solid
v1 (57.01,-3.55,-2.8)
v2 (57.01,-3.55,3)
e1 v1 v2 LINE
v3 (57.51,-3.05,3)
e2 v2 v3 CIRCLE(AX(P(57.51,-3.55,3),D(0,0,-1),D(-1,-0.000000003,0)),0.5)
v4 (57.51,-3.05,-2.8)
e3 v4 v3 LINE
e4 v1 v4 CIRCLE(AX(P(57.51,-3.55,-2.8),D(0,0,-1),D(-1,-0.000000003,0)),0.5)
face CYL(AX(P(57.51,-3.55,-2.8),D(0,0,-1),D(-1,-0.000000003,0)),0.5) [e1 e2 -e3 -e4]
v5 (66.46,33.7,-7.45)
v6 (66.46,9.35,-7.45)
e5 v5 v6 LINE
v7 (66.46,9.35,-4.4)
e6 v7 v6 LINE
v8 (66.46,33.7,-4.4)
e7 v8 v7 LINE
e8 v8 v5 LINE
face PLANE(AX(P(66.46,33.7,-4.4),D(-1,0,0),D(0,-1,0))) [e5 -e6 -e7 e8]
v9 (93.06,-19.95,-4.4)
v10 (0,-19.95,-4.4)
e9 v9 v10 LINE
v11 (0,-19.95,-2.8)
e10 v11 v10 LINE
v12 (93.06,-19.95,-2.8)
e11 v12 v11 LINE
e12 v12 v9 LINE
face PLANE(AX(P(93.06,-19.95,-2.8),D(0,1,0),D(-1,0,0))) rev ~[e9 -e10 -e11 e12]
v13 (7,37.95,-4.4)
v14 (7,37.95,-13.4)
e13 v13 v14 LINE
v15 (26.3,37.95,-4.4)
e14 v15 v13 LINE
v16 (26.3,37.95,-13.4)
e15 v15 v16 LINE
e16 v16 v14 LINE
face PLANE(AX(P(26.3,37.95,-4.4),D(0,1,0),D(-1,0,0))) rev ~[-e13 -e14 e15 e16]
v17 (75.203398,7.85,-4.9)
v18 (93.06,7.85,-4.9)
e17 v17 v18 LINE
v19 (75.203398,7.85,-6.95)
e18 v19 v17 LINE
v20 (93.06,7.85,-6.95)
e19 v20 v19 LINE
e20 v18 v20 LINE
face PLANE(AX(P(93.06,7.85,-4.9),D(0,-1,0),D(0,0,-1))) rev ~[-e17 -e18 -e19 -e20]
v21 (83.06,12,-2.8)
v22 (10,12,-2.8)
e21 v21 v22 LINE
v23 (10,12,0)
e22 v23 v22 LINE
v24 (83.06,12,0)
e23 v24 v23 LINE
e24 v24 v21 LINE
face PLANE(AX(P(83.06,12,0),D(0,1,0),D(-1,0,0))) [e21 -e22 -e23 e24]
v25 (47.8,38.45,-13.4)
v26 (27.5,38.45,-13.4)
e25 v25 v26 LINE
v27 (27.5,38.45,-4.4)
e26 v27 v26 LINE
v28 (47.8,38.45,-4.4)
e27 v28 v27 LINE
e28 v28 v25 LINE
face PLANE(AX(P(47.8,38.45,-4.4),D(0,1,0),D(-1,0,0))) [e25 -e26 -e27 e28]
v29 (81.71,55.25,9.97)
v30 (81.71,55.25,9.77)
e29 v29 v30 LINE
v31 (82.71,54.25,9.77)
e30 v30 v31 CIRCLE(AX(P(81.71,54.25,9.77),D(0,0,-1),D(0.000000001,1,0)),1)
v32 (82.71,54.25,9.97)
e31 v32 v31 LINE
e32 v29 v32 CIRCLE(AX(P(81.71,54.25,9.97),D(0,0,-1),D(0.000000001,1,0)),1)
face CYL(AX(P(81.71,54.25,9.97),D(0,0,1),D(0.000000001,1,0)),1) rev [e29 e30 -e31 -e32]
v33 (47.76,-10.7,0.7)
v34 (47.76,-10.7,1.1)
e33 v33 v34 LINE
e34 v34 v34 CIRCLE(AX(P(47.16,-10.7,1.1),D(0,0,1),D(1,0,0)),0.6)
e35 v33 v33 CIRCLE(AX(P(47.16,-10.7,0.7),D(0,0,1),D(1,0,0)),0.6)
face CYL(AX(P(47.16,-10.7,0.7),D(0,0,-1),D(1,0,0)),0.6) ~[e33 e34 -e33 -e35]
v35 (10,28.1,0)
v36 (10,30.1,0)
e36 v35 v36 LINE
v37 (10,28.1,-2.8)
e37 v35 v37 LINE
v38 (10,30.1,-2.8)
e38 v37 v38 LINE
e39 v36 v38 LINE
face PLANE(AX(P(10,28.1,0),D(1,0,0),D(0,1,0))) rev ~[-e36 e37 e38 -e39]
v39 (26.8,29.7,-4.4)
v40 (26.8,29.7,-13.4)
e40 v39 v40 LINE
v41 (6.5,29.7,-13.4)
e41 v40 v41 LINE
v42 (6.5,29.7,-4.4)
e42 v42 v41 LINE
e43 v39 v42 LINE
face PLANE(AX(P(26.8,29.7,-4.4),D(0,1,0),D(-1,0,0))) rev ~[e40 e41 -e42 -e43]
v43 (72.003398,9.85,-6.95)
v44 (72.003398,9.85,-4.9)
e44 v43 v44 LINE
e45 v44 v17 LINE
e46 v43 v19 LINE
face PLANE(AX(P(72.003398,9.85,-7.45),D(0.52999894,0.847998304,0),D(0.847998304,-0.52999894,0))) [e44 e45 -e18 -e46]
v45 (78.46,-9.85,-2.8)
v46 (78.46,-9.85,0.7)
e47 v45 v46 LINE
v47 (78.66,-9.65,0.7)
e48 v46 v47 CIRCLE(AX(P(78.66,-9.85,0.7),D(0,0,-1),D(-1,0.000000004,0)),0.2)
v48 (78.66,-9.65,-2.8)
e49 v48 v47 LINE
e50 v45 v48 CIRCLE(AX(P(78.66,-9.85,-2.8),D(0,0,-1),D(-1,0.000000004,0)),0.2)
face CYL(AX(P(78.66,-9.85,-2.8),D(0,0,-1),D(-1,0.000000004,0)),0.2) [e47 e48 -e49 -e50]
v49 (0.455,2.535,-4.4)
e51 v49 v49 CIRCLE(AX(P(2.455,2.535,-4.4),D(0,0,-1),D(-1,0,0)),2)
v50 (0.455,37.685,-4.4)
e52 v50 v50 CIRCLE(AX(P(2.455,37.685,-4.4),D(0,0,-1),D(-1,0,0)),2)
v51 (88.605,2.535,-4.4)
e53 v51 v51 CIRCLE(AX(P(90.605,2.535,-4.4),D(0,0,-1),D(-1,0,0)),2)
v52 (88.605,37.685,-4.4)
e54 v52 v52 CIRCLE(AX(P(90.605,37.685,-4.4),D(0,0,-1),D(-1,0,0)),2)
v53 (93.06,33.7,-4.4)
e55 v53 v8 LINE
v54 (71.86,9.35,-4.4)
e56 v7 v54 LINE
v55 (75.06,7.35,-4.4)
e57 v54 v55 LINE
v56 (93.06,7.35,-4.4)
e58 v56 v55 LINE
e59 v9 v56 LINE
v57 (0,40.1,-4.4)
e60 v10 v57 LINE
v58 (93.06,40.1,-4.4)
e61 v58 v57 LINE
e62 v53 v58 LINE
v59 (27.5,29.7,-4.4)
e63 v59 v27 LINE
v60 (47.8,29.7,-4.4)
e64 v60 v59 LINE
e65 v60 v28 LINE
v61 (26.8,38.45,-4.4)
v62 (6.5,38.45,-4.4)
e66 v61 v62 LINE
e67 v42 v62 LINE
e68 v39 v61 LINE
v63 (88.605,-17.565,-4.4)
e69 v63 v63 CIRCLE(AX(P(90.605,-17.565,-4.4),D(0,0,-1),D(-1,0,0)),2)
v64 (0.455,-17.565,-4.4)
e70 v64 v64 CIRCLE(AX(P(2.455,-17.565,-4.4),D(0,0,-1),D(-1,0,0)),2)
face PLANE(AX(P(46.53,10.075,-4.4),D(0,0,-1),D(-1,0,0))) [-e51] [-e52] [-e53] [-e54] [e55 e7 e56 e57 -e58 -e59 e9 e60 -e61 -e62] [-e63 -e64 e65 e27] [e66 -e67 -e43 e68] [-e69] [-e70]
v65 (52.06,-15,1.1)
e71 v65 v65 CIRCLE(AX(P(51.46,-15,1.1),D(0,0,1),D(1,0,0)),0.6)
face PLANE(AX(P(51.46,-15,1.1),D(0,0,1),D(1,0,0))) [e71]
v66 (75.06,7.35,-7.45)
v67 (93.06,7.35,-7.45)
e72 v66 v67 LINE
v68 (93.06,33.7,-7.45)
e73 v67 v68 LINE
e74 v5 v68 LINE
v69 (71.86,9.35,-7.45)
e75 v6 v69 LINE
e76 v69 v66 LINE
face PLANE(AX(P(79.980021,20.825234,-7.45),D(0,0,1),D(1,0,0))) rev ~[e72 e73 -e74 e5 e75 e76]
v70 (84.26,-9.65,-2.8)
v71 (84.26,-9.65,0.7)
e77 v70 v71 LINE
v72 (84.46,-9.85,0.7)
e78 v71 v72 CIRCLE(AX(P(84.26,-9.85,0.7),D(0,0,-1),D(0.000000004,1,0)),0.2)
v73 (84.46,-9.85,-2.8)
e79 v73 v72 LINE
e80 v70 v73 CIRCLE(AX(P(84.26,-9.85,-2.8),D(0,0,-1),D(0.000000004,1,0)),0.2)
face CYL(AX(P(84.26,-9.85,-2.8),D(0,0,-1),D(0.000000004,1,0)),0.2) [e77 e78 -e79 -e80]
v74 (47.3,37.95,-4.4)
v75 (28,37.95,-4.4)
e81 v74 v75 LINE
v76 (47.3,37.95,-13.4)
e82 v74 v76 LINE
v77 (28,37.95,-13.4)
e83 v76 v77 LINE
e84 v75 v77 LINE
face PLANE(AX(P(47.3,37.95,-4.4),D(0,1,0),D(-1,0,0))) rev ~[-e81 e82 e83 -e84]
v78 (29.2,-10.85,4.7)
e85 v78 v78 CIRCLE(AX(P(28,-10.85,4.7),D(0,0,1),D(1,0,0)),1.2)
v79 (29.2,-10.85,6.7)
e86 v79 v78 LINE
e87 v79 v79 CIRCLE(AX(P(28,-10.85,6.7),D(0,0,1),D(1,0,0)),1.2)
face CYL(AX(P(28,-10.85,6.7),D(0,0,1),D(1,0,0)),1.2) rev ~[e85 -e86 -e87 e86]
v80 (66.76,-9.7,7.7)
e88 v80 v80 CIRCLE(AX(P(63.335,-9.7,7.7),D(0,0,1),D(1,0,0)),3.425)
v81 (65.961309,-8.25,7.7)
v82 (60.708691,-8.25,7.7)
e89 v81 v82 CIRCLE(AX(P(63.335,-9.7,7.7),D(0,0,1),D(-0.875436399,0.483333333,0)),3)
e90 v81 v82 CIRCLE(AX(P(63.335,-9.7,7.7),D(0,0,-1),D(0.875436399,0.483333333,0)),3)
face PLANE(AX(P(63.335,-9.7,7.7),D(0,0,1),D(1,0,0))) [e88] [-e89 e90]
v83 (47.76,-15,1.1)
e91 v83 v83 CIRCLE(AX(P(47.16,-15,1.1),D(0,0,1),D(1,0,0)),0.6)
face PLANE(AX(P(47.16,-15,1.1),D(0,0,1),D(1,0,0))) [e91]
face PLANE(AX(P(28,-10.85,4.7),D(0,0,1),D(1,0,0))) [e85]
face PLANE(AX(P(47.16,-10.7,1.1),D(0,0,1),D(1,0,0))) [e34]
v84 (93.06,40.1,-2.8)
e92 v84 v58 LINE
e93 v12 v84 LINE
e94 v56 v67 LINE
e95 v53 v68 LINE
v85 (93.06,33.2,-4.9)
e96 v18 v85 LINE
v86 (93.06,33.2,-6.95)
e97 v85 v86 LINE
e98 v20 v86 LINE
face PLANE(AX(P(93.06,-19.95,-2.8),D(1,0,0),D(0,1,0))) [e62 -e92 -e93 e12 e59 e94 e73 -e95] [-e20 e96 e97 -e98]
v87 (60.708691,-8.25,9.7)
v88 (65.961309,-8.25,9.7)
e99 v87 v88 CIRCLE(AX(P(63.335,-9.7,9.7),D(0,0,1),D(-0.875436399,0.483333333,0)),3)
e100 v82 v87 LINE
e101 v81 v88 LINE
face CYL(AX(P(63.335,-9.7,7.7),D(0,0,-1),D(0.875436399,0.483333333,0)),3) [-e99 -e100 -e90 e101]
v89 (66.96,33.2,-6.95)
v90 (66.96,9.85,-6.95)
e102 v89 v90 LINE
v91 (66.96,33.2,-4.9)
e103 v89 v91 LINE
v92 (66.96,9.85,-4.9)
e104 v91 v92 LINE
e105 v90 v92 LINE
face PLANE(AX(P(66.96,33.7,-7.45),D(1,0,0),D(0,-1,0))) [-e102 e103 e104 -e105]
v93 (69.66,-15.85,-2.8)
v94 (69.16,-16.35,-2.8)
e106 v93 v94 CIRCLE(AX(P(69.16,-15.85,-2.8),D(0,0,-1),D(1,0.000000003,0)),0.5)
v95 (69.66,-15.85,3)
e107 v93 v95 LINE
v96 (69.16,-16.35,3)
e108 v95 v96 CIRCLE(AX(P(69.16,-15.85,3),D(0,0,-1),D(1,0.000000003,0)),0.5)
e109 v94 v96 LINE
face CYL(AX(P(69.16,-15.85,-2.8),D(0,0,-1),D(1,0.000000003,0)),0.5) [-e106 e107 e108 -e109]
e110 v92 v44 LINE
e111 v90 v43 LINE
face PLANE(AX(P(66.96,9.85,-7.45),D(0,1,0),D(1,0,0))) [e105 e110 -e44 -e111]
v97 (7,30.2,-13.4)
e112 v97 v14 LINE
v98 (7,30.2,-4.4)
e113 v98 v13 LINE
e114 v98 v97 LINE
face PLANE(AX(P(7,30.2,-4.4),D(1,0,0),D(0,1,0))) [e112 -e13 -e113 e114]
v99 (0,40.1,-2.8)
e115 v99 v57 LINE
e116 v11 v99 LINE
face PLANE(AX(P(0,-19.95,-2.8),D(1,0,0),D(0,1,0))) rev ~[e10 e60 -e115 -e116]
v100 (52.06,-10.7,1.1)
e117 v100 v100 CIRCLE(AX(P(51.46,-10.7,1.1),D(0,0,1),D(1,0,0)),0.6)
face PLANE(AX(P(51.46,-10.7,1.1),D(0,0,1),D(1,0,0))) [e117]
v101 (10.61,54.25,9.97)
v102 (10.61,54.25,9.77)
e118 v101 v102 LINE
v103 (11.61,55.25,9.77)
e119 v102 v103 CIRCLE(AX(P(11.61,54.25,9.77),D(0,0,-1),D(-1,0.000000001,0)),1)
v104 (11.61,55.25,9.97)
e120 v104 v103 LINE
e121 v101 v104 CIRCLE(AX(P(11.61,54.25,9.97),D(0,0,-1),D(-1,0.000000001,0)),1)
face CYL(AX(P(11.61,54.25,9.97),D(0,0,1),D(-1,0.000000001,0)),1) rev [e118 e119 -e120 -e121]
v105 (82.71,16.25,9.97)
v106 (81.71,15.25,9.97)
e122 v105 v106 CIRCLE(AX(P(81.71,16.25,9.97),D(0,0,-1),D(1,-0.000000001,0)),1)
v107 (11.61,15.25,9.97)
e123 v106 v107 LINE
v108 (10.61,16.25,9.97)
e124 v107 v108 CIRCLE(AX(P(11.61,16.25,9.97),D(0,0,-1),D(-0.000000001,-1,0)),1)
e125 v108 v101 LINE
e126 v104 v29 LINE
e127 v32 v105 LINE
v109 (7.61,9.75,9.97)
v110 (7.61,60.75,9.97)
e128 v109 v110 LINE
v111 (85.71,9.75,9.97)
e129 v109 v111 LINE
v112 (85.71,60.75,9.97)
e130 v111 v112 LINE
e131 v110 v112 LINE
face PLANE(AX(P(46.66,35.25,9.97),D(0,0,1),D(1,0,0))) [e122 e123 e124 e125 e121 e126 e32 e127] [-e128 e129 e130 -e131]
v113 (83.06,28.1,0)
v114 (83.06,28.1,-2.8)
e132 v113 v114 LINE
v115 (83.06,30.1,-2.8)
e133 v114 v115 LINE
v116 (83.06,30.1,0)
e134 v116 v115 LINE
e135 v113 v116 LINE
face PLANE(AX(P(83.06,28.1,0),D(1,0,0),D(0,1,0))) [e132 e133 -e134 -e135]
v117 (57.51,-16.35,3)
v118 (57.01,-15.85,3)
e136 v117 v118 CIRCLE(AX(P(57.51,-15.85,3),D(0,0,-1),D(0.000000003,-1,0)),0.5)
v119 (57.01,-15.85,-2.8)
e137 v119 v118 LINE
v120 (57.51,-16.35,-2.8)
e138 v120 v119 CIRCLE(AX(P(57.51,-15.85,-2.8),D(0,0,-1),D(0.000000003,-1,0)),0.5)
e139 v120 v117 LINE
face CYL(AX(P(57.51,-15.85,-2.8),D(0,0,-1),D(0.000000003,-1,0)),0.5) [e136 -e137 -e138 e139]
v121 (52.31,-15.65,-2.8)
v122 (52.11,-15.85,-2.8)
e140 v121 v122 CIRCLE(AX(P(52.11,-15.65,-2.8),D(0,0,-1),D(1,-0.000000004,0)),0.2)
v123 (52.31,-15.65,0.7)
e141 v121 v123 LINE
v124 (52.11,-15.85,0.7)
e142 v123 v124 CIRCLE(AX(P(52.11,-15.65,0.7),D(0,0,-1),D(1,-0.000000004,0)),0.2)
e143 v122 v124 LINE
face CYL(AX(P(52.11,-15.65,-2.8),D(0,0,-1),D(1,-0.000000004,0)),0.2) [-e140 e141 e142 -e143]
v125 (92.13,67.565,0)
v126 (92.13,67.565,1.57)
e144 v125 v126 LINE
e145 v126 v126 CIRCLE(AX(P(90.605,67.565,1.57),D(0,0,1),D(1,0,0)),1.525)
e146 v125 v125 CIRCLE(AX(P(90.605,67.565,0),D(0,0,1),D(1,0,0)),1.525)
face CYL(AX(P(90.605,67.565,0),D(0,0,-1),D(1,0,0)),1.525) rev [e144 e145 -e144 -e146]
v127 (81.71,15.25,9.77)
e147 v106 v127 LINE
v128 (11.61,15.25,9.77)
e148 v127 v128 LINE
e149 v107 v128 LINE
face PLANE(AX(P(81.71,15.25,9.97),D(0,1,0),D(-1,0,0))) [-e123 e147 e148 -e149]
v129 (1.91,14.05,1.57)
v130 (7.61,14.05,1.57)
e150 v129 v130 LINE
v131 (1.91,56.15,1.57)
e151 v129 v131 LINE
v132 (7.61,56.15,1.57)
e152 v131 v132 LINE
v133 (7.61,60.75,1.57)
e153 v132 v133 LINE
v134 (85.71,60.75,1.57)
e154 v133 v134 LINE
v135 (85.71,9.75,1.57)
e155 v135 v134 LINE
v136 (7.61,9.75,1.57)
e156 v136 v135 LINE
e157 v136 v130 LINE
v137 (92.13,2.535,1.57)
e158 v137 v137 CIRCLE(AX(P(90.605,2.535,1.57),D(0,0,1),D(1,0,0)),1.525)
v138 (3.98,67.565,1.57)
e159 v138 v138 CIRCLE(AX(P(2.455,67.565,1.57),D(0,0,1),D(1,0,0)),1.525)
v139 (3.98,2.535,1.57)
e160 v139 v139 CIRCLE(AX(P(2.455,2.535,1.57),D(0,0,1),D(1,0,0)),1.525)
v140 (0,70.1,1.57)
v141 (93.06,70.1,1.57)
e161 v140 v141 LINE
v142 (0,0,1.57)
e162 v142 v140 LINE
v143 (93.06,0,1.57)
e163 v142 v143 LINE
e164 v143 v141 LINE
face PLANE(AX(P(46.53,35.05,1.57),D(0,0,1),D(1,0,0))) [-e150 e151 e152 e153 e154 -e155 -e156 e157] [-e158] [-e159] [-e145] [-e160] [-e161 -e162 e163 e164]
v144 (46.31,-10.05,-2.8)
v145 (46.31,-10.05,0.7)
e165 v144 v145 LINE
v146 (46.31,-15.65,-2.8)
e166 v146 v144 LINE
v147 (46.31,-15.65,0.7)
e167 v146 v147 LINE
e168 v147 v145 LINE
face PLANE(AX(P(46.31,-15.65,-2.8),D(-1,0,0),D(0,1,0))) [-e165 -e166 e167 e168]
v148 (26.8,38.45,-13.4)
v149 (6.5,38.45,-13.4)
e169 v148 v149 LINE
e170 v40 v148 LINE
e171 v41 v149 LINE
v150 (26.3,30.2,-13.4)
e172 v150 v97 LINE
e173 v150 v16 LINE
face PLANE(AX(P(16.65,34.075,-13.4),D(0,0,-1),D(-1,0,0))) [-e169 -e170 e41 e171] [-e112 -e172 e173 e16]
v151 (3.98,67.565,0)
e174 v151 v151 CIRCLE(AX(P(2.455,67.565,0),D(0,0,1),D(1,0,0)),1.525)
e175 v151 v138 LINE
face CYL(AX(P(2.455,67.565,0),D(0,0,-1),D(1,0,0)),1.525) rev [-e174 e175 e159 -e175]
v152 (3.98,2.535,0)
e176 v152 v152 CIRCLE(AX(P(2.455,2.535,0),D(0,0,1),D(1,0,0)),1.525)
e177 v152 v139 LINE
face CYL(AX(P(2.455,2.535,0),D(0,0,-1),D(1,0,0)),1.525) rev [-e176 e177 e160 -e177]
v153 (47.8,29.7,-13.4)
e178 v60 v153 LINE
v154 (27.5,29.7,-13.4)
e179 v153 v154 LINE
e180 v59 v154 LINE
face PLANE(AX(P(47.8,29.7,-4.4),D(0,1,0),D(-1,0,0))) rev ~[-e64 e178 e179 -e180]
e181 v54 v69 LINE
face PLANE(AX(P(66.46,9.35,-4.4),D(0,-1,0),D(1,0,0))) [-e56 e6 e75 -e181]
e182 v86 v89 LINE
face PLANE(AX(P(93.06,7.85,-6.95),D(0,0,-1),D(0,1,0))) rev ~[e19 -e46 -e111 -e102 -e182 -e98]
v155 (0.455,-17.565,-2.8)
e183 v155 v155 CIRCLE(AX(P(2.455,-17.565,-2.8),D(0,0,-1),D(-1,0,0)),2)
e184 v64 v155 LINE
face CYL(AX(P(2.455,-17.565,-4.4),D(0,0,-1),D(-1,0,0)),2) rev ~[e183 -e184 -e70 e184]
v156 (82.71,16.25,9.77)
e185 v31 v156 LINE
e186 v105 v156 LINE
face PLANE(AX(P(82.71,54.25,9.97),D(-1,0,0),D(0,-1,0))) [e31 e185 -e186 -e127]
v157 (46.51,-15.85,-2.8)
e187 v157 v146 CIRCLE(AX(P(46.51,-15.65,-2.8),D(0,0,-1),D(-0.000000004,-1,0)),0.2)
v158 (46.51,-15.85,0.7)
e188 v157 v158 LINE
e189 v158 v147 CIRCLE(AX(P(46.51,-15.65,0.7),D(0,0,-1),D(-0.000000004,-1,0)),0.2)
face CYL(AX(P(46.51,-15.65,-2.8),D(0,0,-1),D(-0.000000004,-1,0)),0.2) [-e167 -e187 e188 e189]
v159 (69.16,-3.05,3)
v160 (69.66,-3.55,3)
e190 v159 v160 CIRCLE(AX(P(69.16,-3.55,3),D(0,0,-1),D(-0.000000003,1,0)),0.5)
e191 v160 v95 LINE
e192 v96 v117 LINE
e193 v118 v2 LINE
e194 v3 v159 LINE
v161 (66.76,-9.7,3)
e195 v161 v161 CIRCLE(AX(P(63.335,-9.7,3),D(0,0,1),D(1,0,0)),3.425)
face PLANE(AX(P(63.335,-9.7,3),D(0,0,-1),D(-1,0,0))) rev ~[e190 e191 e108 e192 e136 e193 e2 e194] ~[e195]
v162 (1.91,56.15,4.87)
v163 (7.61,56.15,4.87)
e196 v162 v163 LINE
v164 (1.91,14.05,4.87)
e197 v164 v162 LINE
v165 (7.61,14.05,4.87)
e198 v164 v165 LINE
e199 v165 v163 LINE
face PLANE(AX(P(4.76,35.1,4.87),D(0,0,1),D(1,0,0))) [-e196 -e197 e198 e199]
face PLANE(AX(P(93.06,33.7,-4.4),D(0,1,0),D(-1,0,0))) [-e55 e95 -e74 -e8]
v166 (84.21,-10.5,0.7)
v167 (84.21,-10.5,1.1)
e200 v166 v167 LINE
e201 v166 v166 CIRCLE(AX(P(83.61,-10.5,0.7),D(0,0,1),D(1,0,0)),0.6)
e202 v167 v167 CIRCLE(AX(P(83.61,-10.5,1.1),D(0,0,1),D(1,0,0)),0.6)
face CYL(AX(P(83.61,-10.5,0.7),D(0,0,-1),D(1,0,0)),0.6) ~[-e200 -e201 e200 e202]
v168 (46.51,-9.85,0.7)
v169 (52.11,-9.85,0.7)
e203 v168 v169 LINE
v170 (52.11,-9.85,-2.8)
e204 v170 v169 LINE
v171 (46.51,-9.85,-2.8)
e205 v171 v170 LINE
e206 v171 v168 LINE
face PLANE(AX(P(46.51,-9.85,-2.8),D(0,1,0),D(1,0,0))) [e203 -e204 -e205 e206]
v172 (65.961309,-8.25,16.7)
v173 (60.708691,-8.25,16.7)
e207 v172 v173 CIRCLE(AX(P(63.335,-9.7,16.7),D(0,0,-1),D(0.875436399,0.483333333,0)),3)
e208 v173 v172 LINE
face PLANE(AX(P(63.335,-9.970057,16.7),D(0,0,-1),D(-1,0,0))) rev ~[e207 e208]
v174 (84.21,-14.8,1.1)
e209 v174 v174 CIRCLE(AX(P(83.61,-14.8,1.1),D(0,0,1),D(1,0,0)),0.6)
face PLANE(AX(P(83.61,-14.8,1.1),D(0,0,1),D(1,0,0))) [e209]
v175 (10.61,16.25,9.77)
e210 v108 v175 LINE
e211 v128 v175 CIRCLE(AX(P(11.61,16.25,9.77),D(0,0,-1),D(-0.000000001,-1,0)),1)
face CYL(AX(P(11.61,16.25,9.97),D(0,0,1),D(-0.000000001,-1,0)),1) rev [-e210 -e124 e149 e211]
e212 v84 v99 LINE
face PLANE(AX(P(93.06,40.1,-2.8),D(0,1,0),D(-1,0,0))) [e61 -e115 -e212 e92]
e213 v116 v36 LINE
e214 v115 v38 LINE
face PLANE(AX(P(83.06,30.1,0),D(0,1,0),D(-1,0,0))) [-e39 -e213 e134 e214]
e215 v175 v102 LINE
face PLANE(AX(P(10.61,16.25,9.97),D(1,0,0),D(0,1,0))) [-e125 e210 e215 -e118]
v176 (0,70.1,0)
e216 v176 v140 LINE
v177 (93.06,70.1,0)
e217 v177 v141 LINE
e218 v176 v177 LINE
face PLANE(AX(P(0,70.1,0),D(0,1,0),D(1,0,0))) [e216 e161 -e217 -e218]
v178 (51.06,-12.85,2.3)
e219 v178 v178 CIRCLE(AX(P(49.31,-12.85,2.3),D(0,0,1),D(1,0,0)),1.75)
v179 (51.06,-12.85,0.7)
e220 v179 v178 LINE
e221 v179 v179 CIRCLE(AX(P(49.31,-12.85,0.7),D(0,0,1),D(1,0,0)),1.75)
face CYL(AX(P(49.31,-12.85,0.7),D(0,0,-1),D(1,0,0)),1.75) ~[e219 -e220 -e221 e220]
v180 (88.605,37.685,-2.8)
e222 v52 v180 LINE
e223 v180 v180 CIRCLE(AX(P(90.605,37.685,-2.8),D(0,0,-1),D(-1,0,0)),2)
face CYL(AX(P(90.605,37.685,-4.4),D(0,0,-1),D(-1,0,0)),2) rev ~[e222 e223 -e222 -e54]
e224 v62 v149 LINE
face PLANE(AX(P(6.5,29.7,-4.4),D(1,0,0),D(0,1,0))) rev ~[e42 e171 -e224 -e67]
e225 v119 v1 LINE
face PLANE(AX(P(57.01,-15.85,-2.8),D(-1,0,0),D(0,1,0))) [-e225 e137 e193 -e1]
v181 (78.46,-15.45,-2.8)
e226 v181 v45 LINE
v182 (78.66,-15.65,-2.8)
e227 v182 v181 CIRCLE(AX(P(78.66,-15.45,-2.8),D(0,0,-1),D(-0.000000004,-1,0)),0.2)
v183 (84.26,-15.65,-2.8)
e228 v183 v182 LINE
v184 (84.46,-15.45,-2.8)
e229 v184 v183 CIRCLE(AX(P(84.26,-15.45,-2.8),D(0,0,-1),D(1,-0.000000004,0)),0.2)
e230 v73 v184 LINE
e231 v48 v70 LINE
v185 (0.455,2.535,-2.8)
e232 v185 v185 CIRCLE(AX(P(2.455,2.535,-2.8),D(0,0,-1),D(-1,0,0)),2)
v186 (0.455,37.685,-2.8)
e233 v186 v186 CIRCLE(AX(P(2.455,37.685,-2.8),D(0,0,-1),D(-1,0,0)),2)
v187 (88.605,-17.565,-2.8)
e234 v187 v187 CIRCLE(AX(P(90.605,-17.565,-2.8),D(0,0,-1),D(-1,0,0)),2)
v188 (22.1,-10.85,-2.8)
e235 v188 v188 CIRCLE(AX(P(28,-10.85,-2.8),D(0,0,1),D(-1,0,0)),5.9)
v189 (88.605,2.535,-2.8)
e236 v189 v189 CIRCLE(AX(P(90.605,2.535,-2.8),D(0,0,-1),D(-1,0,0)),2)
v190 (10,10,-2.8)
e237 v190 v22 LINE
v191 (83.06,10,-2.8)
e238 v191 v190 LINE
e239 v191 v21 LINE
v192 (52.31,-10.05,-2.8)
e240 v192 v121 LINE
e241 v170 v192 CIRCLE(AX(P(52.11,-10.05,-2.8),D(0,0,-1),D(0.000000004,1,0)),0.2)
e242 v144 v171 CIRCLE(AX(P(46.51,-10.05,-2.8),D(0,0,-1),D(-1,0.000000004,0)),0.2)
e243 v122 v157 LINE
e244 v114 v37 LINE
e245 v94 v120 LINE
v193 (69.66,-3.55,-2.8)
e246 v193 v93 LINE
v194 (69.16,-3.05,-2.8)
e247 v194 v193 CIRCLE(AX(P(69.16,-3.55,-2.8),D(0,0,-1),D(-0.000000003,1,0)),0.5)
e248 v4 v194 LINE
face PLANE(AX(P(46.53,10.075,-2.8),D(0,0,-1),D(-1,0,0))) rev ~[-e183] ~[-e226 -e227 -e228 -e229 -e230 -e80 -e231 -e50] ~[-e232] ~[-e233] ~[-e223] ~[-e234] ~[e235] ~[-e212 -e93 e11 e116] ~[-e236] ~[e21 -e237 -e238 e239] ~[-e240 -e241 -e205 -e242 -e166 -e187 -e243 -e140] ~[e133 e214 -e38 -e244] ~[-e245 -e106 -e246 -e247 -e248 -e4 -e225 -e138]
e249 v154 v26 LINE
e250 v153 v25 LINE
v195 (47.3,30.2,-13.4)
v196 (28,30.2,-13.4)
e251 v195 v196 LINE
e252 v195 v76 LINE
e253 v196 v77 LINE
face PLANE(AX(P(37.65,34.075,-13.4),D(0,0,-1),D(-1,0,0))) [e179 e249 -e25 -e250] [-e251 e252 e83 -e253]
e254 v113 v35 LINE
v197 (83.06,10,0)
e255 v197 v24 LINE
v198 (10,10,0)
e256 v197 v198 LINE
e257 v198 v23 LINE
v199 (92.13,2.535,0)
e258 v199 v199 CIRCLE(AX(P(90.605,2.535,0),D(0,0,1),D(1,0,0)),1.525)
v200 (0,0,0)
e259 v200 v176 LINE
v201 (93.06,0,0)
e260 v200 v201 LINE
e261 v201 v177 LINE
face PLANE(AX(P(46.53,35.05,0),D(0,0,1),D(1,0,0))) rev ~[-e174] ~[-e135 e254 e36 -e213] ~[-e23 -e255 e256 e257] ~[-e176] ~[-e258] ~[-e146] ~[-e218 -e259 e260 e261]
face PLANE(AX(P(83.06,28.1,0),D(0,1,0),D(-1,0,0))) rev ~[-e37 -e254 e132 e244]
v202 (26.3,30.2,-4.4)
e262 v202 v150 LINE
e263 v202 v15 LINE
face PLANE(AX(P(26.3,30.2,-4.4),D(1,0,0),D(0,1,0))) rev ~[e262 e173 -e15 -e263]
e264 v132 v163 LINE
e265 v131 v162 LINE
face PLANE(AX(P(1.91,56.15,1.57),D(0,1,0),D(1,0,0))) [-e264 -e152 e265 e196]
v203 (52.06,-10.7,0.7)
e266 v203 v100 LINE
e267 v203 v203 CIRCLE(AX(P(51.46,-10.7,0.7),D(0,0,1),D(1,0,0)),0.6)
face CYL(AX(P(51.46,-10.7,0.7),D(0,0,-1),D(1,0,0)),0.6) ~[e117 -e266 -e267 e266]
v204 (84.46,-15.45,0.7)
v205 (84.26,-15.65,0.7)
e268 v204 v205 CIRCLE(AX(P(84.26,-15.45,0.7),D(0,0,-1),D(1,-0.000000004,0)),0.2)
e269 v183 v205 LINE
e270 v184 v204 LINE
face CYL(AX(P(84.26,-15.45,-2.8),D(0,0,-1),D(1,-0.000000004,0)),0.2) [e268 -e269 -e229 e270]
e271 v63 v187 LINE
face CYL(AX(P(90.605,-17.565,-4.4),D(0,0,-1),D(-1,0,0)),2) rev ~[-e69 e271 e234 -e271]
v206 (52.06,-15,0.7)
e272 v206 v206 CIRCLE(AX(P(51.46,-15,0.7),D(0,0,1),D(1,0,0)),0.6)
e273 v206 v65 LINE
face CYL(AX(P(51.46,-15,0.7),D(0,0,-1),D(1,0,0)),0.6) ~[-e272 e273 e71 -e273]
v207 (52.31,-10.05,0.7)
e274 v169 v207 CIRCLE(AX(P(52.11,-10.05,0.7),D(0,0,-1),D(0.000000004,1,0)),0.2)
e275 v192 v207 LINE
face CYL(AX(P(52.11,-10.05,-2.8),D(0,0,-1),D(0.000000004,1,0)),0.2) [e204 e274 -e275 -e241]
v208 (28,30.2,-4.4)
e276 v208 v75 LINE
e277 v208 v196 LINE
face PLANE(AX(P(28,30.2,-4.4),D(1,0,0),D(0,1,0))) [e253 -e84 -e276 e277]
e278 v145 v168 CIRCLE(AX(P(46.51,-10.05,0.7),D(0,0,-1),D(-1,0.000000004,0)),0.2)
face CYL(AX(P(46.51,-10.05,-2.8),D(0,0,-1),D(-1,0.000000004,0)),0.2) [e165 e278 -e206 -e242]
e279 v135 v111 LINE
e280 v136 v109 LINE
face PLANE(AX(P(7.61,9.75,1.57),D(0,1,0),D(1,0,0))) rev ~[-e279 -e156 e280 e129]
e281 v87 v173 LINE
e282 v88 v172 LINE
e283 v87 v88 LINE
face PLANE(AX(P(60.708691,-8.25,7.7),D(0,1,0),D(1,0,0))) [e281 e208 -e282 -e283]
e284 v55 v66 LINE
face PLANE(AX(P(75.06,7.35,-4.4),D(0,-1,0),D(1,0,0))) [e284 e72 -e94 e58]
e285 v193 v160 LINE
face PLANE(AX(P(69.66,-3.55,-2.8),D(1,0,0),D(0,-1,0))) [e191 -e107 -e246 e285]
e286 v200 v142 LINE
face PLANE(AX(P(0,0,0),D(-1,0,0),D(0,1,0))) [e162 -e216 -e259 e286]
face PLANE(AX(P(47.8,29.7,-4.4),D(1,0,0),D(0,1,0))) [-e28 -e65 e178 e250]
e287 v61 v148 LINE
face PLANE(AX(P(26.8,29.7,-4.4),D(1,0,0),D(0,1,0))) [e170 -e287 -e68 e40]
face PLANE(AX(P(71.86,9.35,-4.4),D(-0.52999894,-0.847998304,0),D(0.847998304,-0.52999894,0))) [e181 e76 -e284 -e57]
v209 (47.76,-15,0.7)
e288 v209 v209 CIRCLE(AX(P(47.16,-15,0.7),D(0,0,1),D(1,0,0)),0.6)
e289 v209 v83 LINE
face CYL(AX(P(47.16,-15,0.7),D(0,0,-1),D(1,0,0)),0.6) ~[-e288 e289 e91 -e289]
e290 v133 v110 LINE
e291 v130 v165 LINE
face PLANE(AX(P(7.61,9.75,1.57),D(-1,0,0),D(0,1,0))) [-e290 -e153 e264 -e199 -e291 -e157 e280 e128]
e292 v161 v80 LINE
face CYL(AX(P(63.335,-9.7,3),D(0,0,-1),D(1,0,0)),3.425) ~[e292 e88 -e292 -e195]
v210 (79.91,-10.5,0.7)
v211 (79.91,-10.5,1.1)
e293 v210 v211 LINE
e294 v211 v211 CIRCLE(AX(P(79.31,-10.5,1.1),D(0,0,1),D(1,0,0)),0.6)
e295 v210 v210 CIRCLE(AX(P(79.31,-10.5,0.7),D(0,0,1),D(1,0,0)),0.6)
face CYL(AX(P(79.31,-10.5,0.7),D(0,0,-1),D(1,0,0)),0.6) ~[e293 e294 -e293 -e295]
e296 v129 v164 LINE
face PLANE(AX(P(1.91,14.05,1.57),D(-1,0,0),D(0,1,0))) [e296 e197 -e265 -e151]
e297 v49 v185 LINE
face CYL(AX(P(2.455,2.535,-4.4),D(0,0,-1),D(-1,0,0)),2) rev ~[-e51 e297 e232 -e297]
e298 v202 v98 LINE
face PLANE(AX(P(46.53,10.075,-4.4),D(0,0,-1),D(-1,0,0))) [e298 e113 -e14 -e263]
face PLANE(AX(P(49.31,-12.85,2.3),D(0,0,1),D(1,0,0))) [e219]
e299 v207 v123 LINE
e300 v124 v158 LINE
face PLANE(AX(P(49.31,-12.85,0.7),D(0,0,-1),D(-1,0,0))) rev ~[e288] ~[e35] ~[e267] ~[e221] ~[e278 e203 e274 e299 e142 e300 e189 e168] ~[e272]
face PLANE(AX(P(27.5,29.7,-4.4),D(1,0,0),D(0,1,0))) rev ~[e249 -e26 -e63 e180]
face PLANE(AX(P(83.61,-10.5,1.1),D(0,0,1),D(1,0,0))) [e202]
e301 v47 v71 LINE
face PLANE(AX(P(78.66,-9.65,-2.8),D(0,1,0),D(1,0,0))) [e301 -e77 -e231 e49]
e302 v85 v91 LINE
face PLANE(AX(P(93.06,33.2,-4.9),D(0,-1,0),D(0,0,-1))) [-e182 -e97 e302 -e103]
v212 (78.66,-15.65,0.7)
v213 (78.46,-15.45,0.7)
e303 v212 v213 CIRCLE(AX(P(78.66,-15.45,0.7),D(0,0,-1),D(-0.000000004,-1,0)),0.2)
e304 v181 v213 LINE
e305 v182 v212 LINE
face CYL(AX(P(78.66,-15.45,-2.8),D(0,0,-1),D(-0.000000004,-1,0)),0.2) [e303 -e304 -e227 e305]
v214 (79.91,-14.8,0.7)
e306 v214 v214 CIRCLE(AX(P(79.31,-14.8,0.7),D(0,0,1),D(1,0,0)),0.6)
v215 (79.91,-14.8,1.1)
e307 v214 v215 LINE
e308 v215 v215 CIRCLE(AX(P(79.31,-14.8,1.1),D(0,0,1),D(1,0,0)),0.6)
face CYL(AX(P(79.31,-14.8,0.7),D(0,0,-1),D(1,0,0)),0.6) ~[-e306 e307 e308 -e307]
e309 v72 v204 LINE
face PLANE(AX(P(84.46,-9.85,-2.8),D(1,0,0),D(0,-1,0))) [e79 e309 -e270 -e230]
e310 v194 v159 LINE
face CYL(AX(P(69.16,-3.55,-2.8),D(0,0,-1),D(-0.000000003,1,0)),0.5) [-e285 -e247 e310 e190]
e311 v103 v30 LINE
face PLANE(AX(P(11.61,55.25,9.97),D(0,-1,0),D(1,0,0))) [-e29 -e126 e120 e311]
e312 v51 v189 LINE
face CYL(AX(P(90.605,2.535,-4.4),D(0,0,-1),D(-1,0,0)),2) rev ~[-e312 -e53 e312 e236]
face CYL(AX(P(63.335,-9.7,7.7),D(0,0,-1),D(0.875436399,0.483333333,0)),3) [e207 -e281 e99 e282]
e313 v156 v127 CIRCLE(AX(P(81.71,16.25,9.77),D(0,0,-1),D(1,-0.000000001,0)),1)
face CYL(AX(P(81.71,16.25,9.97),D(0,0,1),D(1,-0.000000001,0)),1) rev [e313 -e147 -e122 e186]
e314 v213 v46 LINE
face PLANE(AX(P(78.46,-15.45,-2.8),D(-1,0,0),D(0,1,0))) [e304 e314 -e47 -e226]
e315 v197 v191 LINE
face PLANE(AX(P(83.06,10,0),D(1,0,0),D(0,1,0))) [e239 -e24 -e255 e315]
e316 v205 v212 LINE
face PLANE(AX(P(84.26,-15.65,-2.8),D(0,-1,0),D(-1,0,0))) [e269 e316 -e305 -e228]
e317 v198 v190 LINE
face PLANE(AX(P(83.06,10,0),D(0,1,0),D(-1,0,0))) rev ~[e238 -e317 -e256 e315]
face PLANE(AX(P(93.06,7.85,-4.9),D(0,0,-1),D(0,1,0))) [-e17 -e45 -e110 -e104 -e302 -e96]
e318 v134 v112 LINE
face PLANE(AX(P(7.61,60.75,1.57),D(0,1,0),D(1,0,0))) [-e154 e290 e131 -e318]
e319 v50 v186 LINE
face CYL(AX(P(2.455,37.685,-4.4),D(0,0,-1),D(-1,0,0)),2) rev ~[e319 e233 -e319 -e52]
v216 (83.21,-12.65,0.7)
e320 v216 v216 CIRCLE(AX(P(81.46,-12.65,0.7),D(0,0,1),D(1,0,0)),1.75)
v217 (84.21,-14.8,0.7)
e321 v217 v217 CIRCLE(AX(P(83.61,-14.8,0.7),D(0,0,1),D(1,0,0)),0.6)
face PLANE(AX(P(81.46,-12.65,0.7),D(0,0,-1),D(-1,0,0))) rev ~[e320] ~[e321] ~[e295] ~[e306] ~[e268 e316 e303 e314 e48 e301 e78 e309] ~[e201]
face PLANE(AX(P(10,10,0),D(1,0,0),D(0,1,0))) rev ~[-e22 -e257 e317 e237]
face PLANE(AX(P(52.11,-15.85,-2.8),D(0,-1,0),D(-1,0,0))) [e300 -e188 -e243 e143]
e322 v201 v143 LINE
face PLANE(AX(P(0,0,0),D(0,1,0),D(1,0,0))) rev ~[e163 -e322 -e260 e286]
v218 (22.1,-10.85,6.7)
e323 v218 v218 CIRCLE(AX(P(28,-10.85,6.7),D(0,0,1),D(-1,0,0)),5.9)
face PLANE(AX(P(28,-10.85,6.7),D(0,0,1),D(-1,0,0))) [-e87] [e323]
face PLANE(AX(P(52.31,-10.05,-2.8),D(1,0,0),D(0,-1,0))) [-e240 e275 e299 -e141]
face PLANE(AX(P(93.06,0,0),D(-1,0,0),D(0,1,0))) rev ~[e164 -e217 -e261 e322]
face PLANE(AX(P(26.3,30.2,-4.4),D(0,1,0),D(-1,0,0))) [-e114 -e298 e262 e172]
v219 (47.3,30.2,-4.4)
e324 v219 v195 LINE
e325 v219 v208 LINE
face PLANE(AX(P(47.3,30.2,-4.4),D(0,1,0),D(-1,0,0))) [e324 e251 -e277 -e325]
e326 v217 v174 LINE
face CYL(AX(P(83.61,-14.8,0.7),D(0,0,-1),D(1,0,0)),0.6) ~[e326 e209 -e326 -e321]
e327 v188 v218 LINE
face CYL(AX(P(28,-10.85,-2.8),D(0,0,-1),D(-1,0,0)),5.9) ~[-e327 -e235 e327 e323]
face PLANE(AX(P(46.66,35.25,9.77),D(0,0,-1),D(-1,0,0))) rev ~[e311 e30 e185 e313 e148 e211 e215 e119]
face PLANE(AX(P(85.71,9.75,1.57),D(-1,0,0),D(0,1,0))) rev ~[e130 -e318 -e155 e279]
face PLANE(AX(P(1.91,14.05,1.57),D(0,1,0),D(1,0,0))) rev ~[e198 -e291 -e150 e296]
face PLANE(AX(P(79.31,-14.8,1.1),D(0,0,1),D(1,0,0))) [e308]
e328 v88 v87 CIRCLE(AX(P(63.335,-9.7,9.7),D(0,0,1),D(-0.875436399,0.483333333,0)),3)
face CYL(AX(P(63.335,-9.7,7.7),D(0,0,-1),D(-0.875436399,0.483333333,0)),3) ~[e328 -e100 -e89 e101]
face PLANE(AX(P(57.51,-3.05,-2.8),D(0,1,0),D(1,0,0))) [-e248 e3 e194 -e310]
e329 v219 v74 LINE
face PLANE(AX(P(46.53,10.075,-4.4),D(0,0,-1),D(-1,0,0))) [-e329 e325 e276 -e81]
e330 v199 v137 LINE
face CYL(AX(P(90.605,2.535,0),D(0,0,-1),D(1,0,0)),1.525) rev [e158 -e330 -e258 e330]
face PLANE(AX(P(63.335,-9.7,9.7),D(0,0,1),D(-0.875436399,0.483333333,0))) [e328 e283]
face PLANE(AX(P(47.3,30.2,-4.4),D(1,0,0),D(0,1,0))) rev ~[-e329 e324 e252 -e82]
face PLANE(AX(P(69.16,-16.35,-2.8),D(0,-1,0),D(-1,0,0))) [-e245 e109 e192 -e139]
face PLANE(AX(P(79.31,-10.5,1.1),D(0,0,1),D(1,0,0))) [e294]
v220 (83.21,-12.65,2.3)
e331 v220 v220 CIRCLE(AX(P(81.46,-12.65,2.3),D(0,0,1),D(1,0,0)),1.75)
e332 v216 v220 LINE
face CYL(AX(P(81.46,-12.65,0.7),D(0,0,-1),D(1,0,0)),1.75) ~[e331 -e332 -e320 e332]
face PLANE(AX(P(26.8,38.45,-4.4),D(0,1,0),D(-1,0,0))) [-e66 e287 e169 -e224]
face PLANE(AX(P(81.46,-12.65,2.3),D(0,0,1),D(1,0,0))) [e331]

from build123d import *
from build123d.topology import SkipClean

# Parameters (mm, degrees)
SKETCH1_W            = 93.06
SKETCH1_H            = 70.1
SKETCH1_R            = 1.525
BOSS_EXTRUDE1_DEPTH  = 1.57
SKETCH2_W            = 78.1
SKETCH2_H            = 51
BOSS_EXTRUDE2_DEPTH  = 8.4
CUT_EXTRUDE1_DEPTH   = 0.2
SKETCH4_W            = 5.7
SKETCH4_H            = 42.1
BOSS_EXTRUDE3_DEPTH  = 3.3
SKETCH6_W            = 93.06
SKETCH6_H            = 60.05
BOSS_EXTRUDE4_DEPTH  = 1.6
SKETCH7_R            = 2
CUT_EXTRUDE2_DEPTH   = 1.6
BOSS_EXTRUDE5_REACH  = 118.934
SKETCH8_W            = 73.06
SKETCH8_H            = 2
SKETCH9_W            = 20.3
SKETCH9_H            = 8.75
SKETCH9_W_2          = 19.3
SKETCH9_H_2          = 7.75
BOSS_EXTRUDE6_DEPTH  = 9
BOSS_EXTRUDE7_DEPTH  = 3.05
CUT_EXTRUDE3_REACH   = 119.276
SKETCH11_W           = 2.05
SKETCH11_H           = 25.35
BOSS_EXTRUDE8_DEPTH  = 3.05
BOSS_EXTRUDE9_DEPTH  = 3.5
SKETCH15_R           = 1.75
BOSS_EXTRUDE10_DEPTH = 1.6
BOSS_EXTRUDE11_DEPTH = 5.8
SKETCH17_R           = 3.425
BOSS_EXTRUDE12_DEPTH = 4.7
BOSS_EXTRUDE13_DEPTH = 9
SKETCH19_R           = 0.6
BOSS_EXTRUDE14_DEPTH = 0.4
SKETCH21_R           = 5.9
BOSS_EXTRUDE15_DEPTH = 9.5
SKETCH22_R           = 1.2
CUT_EXTRUDE4_DEPTH   = 2
SKETCH23_R           = 3
BOSS_EXTRUDE16_DEPTH = 2


with BuildPart() as part:
    # Sketch1 → Boss-Extrude1 (new body)
    with BuildSketch(Plane.XY):
        with Locations((46.53, 35.05)):
            Rectangle(SKETCH1_W, SKETCH1_H)
        with Locations((2.455, 67.565)):
            Circle(SKETCH1_R, mode=Mode.SUBTRACT)
        with Locations((90.605, 67.565)):
            Circle(SKETCH1_R, mode=Mode.SUBTRACT)
        with Locations((90.605, 2.535)):
            Circle(SKETCH1_R, mode=Mode.SUBTRACT)
        with Locations((2.455, 2.535)):
            Circle(SKETCH1_R, mode=Mode.SUBTRACT)
    extrude(amount=BOSS_EXTRUDE1_DEPTH)

    # Sketch2 → Boss-Extrude2 (add)
    with BuildSketch(Plane.XY.offset(1.57)):
        with Locations((46.66, 35.25)):
            Rectangle(SKETCH2_W, SKETCH2_H)
    extrude(amount=BOSS_EXTRUDE2_DEPTH)

    # Sketch3 → Cut-Extrude1 (cut)
    with BuildSketch(Plane.XY.offset(9.97)):
        with BuildLine():
            Line((11.61, 55.25), (81.71, 55.25))
            ThreePointArc((81.71, 55.25), (82.417106781, 54.957106781), (82.71, 54.25))
            Line((82.71, 54.25), (82.71, 16.25))
            ThreePointArc((82.71, 16.25), (82.417106781, 15.542893219), (81.71, 15.25))
            Line((81.71, 15.25), (11.61, 15.25))
            ThreePointArc((11.61, 15.25), (10.902893219, 15.542893219), (10.61, 16.25))
            Line((10.61, 16.25), (10.61, 54.25))
            ThreePointArc((10.61, 54.25), (10.902893219, 54.957106781), (11.61, 55.25))
        make_face()
    extrude(amount=-CUT_EXTRUDE1_DEPTH, mode=Mode.SUBTRACT)

    # Sketch4 → Boss-Extrude3 (add)
    with BuildSketch(Plane.XY.offset(1.57)):
        with Locations((4.76, 35.1)):
            Rectangle(SKETCH4_W, SKETCH4_H)
    extrude(amount=BOSS_EXTRUDE3_DEPTH)


with BuildPart() as body_2:
    # Sketch6 → Boss-Extrude4 (new body)
    with BuildSketch(Plane(origin=(0, 0, -2.8), x_dir=(-1, 0, 0), z_dir=(0, 0, -1))):
        with Locations((-46.53, 10.075)):
            Rectangle(SKETCH6_W, SKETCH6_H)
    extrude(amount=BOSS_EXTRUDE4_DEPTH)

    # Sketch7 → Cut-Extrude2 (cut)
    with BuildSketch(Plane(origin=(0, 0, -4.4), x_dir=(-1, 0, 0), z_dir=(0, 0, -1))):
        with Locations((-90.605, 37.685)):
            Circle(SKETCH7_R)
        with Locations((-90.605, -17.565)):
            Circle(SKETCH7_R)
        with Locations((-2.455, -17.565)):
            Circle(SKETCH7_R)
        with Locations((-2.455, 37.685)):
            Circle(SKETCH7_R)
        with Locations((-90.605, 2.535)):
            Circle(SKETCH7_R)
        with Locations((-2.455, 2.535)):
            Circle(SKETCH7_R)
    extrude(amount=-CUT_EXTRUDE2_DEPTH, mode=Mode.SUBTRACT)

    # Sketch8 → Boss-Extrude5 (add, up to next)
    with BuildSketch(Plane(origin=(0, 0, 0), x_dir=(-1, 0, 0), z_dir=(0, 0, -1)), mode=Mode.PRIVATE) as boss_extrude5_sk1:
        with Locations((-46.53, 11)):
            Rectangle(SKETCH8_W, SKETCH8_H)
    boss_extrude5_tool1 = extrude(boss_extrude5_sk1.sketch, amount=BOSS_EXTRUDE5_REACH, mode=Mode.PRIVATE) - body_2.part
    # Sketch8 → Boss-Extrude5 (add, up to next)
    with BuildSketch(Plane(origin=(0, 0, 0), x_dir=(-1, 0, 0), z_dir=(0, 0, -1)), mode=Mode.PRIVATE) as boss_extrude5_sk2:
        with Locations((-46.53, 29.1)):
            Rectangle(SKETCH8_W, SKETCH8_H)
    boss_extrude5_tool2 = extrude(boss_extrude5_sk2.sketch, amount=BOSS_EXTRUDE5_REACH, mode=Mode.PRIVATE) - body_2.part

    add(part.part)  # Boss-Extrude5 merges part
    add(boss_extrude5_tool1.solids().sort_by_distance((46.53, 11, 0))[0])
    add(boss_extrude5_tool2.solids().sort_by_distance((46.53, 29.1, 0))[0])

    # Sketch9 → Boss-Extrude6 (add)
    # profile 1 of 2: a face of its own
    with BuildSketch(Plane(origin=(0, 0, -4.4), x_dir=(-1, 0, 0), z_dir=(0, 0, -1))):
        with Locations((-37.65, 34.075)):
            Rectangle(SKETCH9_W, SKETCH9_H)
        with Locations((-37.65, 34.075)):
            Rectangle(SKETCH9_W_2, SKETCH9_H_2, mode=Mode.SUBTRACT)
    # profile 2 of 2: a face of its own
    with BuildSketch(Plane(origin=(0, 0, -4.4), x_dir=(-1, 0, 0), z_dir=(0, 0, -1))):
        with Locations((-16.65, 34.075)):
            Rectangle(SKETCH9_W, SKETCH9_H)
        with Locations((-16.65, 34.075)):
            Rectangle(SKETCH9_W_2, SKETCH9_H_2, mode=Mode.SUBTRACT)
    extrude(amount=BOSS_EXTRUDE6_DEPTH)

    # Sketch10 → Boss-Extrude7 (add)
    with BuildSketch(Plane(origin=(0, 0, -4.4), x_dir=(-1, 0, 0), z_dir=(0, 0, -1))):
        Polygon((-93.06, 33.7), (-66.46, 33.7), (-66.46, 9.35), (-71.86, 9.35), (-75.06, 7.35), (-93.06, 7.35), align=None)
    extrude(amount=BOSS_EXTRUDE7_DEPTH)

    # Sketch11 → Cut-Extrude3 (cut, up to next)
    with BuildSketch(Plane(origin=(93.06, 0, 0), x_dir=(0, 0, -1), z_dir=(1, 0, 0)), mode=Mode.PRIVATE) as cut_extrude3_sk1:
        with Locations((5.925, 20.525)):
            Rectangle(SKETCH11_W, SKETCH11_H)
    cut_extrude3_tool1 = extrude(cut_extrude3_sk1.sketch, amount=-CUT_EXTRUDE3_REACH, mode=Mode.PRIVATE) & body_2.part
    add(cut_extrude3_tool1.solids().sort_by_distance((93.06, 20.525, -5.925))[0], mode=Mode.SUBTRACT)

    # Sketch12 → Boss-Extrude8 (add)
    with BuildSketch(Plane(origin=(0, 0, -7.45), x_dir=(-1, 0, 0), z_dir=(0, 0, -1))):
        Polygon((-75.06, 7.35), (-71.86, 9.35), (-66.46, 9.35), (-66.46, 33.7), (-66.96, 33.7), (-66.96, 9.85), (-72.003398113, 9.85), (-75.203398113, 7.85), (-77.778406171, 7.85), (-77.778406171, 7.35), align=None)
    extrude(amount=-BOSS_EXTRUDE8_DEPTH)

    # Sketch14 → Boss-Extrude9 (add)
    with BuildSketch(Plane.XY.offset(-2.8)):
        with BuildLine():
            Line((78.66, -9.65), (84.26, -9.65))
            ThreePointArc((84.26, -9.65), (84.401421356, -9.708578644), (84.46, -9.85))
            Line((84.46, -9.85), (84.46, -15.45))
            ThreePointArc((84.46, -15.45), (84.401421356, -15.591421356), (84.26, -15.65))
            Line((84.26, -15.65), (78.66, -15.65))
            ThreePointArc((78.66, -15.65), (78.518578644, -15.591421356), (78.46, -15.45))
            Line((78.46, -15.45), (78.46, -9.85))
            ThreePointArc((78.46, -9.85), (78.518578644, -9.708578644), (78.66, -9.65))
        make_face()
        with BuildLine():
            Line((46.51, -9.85), (52.11, -9.85))
            ThreePointArc((52.11, -9.85), (52.251421356, -9.908578644), (52.31, -10.05))
            Line((52.31, -10.05), (52.31, -15.65))
            ThreePointArc((52.31, -15.65), (52.251421356, -15.791421356), (52.11, -15.85))
            Line((52.11, -15.85), (46.51, -15.85))
            ThreePointArc((46.51, -15.85), (46.368578644, -15.791421356), (46.31, -15.65))
            Line((46.31, -15.65), (46.31, -10.05))
            ThreePointArc((46.31, -10.05), (46.368578644, -9.908578644), (46.51, -9.85))
        make_face()
    extrude(amount=BOSS_EXTRUDE9_DEPTH)

    # Sketch15 → Boss-Extrude10 (add)
    with BuildSketch(Plane.XY.offset(0.7)):
        with Locations((49.31, -12.85)):
            Circle(SKETCH15_R)
        with Locations((81.46, -12.65)):
            Circle(SKETCH15_R)
    extrude(amount=BOSS_EXTRUDE10_DEPTH)

    # Sketch16 → Boss-Extrude11 (add)
    with BuildSketch(Plane.XY.offset(-2.8)):
        with BuildLine():
            Line((57.51, -3.05), (69.16, -3.05))
            ThreePointArc((69.16, -3.05), (69.513553391, -3.196446609), (69.66, -3.55))
            Line((69.66, -3.55), (69.66, -15.85))
            ThreePointArc((69.66, -15.85), (69.513553391, -16.203553391), (69.16, -16.35))
            Line((69.16, -16.35), (57.51, -16.35))
            ThreePointArc((57.51, -16.35), (57.156446609, -16.203553391), (57.01, -15.85))
            Line((57.01, -15.85), (57.01, -3.55))
            ThreePointArc((57.01, -3.55), (57.156446609, -3.196446609), (57.51, -3.05))
        make_face()
    extrude(amount=BOSS_EXTRUDE11_DEPTH)

    # Sketch17 → Boss-Extrude12 (add)
    with BuildSketch(Plane.XY.offset(3)):
        with Locations((63.335, -9.7)):
            Circle(SKETCH17_R)
    extrude(amount=BOSS_EXTRUDE12_DEPTH)

    # Sketch18 → Boss-Extrude13 (add)
    with BuildSketch(Plane.XY.offset(7.7)):
        with BuildLine():
            Line((60.708690803, -8.25), (65.961309197, -8.25))
            ThreePointArc((65.961309197, -8.25), (63.335, -12.7), (60.708690803, -8.25))
        make_face()
    extrude(amount=BOSS_EXTRUDE13_DEPTH)

    # Sketch19 → Boss-Extrude14 (add)
    with BuildSketch(Plane.XY.offset(0.7)):
        with Locations((79.31, -10.5)):
            Circle(SKETCH19_R)
        with Locations((83.61, -10.5)):
            Circle(SKETCH19_R)
        with Locations((83.61, -14.8)):
            Circle(SKETCH19_R)
        with Locations((79.31, -14.8)):
            Circle(SKETCH19_R)
        with Locations((47.16, -10.7)):
            Circle(SKETCH19_R)
        with Locations((51.46, -10.7)):
            Circle(SKETCH19_R)
        with Locations((51.46, -15)):
            Circle(SKETCH19_R)
        with Locations((47.16, -15)):
            Circle(SKETCH19_R)
    extrude(amount=BOSS_EXTRUDE14_DEPTH)

    # Sketch21 → Boss-Extrude15 (add)
    with BuildSketch(Plane.XY.offset(-2.8)):
        with Locations(Location((28, -10.85, 0), (0, 0, 180))):
            Circle(SKETCH21_R)
    extrude(amount=BOSS_EXTRUDE15_DEPTH)

    # Sketch22 → Cut-Extrude4 (cut)
    with BuildSketch(Plane.XY.offset(6.7)):
        with Locations((28, -10.85)):
            Circle(SKETCH22_R)
    extrude(amount=-CUT_EXTRUDE4_DEPTH, mode=Mode.SUBTRACT)

    # Sketch23 → Boss-Extrude16 (add)
    with SkipClean():  # the faces are left unmerged after this step: merging them gives an invalid solid
        with BuildSketch(Plane.XY.offset(7.7)):
            with Locations(Location((63.335, -9.7, 0), (0, 0, 151.09666546))):
                Circle(SKETCH23_R)
        extrude(amount=BOSS_EXTRUDE16_DEPTH)


solid = body_2.part
